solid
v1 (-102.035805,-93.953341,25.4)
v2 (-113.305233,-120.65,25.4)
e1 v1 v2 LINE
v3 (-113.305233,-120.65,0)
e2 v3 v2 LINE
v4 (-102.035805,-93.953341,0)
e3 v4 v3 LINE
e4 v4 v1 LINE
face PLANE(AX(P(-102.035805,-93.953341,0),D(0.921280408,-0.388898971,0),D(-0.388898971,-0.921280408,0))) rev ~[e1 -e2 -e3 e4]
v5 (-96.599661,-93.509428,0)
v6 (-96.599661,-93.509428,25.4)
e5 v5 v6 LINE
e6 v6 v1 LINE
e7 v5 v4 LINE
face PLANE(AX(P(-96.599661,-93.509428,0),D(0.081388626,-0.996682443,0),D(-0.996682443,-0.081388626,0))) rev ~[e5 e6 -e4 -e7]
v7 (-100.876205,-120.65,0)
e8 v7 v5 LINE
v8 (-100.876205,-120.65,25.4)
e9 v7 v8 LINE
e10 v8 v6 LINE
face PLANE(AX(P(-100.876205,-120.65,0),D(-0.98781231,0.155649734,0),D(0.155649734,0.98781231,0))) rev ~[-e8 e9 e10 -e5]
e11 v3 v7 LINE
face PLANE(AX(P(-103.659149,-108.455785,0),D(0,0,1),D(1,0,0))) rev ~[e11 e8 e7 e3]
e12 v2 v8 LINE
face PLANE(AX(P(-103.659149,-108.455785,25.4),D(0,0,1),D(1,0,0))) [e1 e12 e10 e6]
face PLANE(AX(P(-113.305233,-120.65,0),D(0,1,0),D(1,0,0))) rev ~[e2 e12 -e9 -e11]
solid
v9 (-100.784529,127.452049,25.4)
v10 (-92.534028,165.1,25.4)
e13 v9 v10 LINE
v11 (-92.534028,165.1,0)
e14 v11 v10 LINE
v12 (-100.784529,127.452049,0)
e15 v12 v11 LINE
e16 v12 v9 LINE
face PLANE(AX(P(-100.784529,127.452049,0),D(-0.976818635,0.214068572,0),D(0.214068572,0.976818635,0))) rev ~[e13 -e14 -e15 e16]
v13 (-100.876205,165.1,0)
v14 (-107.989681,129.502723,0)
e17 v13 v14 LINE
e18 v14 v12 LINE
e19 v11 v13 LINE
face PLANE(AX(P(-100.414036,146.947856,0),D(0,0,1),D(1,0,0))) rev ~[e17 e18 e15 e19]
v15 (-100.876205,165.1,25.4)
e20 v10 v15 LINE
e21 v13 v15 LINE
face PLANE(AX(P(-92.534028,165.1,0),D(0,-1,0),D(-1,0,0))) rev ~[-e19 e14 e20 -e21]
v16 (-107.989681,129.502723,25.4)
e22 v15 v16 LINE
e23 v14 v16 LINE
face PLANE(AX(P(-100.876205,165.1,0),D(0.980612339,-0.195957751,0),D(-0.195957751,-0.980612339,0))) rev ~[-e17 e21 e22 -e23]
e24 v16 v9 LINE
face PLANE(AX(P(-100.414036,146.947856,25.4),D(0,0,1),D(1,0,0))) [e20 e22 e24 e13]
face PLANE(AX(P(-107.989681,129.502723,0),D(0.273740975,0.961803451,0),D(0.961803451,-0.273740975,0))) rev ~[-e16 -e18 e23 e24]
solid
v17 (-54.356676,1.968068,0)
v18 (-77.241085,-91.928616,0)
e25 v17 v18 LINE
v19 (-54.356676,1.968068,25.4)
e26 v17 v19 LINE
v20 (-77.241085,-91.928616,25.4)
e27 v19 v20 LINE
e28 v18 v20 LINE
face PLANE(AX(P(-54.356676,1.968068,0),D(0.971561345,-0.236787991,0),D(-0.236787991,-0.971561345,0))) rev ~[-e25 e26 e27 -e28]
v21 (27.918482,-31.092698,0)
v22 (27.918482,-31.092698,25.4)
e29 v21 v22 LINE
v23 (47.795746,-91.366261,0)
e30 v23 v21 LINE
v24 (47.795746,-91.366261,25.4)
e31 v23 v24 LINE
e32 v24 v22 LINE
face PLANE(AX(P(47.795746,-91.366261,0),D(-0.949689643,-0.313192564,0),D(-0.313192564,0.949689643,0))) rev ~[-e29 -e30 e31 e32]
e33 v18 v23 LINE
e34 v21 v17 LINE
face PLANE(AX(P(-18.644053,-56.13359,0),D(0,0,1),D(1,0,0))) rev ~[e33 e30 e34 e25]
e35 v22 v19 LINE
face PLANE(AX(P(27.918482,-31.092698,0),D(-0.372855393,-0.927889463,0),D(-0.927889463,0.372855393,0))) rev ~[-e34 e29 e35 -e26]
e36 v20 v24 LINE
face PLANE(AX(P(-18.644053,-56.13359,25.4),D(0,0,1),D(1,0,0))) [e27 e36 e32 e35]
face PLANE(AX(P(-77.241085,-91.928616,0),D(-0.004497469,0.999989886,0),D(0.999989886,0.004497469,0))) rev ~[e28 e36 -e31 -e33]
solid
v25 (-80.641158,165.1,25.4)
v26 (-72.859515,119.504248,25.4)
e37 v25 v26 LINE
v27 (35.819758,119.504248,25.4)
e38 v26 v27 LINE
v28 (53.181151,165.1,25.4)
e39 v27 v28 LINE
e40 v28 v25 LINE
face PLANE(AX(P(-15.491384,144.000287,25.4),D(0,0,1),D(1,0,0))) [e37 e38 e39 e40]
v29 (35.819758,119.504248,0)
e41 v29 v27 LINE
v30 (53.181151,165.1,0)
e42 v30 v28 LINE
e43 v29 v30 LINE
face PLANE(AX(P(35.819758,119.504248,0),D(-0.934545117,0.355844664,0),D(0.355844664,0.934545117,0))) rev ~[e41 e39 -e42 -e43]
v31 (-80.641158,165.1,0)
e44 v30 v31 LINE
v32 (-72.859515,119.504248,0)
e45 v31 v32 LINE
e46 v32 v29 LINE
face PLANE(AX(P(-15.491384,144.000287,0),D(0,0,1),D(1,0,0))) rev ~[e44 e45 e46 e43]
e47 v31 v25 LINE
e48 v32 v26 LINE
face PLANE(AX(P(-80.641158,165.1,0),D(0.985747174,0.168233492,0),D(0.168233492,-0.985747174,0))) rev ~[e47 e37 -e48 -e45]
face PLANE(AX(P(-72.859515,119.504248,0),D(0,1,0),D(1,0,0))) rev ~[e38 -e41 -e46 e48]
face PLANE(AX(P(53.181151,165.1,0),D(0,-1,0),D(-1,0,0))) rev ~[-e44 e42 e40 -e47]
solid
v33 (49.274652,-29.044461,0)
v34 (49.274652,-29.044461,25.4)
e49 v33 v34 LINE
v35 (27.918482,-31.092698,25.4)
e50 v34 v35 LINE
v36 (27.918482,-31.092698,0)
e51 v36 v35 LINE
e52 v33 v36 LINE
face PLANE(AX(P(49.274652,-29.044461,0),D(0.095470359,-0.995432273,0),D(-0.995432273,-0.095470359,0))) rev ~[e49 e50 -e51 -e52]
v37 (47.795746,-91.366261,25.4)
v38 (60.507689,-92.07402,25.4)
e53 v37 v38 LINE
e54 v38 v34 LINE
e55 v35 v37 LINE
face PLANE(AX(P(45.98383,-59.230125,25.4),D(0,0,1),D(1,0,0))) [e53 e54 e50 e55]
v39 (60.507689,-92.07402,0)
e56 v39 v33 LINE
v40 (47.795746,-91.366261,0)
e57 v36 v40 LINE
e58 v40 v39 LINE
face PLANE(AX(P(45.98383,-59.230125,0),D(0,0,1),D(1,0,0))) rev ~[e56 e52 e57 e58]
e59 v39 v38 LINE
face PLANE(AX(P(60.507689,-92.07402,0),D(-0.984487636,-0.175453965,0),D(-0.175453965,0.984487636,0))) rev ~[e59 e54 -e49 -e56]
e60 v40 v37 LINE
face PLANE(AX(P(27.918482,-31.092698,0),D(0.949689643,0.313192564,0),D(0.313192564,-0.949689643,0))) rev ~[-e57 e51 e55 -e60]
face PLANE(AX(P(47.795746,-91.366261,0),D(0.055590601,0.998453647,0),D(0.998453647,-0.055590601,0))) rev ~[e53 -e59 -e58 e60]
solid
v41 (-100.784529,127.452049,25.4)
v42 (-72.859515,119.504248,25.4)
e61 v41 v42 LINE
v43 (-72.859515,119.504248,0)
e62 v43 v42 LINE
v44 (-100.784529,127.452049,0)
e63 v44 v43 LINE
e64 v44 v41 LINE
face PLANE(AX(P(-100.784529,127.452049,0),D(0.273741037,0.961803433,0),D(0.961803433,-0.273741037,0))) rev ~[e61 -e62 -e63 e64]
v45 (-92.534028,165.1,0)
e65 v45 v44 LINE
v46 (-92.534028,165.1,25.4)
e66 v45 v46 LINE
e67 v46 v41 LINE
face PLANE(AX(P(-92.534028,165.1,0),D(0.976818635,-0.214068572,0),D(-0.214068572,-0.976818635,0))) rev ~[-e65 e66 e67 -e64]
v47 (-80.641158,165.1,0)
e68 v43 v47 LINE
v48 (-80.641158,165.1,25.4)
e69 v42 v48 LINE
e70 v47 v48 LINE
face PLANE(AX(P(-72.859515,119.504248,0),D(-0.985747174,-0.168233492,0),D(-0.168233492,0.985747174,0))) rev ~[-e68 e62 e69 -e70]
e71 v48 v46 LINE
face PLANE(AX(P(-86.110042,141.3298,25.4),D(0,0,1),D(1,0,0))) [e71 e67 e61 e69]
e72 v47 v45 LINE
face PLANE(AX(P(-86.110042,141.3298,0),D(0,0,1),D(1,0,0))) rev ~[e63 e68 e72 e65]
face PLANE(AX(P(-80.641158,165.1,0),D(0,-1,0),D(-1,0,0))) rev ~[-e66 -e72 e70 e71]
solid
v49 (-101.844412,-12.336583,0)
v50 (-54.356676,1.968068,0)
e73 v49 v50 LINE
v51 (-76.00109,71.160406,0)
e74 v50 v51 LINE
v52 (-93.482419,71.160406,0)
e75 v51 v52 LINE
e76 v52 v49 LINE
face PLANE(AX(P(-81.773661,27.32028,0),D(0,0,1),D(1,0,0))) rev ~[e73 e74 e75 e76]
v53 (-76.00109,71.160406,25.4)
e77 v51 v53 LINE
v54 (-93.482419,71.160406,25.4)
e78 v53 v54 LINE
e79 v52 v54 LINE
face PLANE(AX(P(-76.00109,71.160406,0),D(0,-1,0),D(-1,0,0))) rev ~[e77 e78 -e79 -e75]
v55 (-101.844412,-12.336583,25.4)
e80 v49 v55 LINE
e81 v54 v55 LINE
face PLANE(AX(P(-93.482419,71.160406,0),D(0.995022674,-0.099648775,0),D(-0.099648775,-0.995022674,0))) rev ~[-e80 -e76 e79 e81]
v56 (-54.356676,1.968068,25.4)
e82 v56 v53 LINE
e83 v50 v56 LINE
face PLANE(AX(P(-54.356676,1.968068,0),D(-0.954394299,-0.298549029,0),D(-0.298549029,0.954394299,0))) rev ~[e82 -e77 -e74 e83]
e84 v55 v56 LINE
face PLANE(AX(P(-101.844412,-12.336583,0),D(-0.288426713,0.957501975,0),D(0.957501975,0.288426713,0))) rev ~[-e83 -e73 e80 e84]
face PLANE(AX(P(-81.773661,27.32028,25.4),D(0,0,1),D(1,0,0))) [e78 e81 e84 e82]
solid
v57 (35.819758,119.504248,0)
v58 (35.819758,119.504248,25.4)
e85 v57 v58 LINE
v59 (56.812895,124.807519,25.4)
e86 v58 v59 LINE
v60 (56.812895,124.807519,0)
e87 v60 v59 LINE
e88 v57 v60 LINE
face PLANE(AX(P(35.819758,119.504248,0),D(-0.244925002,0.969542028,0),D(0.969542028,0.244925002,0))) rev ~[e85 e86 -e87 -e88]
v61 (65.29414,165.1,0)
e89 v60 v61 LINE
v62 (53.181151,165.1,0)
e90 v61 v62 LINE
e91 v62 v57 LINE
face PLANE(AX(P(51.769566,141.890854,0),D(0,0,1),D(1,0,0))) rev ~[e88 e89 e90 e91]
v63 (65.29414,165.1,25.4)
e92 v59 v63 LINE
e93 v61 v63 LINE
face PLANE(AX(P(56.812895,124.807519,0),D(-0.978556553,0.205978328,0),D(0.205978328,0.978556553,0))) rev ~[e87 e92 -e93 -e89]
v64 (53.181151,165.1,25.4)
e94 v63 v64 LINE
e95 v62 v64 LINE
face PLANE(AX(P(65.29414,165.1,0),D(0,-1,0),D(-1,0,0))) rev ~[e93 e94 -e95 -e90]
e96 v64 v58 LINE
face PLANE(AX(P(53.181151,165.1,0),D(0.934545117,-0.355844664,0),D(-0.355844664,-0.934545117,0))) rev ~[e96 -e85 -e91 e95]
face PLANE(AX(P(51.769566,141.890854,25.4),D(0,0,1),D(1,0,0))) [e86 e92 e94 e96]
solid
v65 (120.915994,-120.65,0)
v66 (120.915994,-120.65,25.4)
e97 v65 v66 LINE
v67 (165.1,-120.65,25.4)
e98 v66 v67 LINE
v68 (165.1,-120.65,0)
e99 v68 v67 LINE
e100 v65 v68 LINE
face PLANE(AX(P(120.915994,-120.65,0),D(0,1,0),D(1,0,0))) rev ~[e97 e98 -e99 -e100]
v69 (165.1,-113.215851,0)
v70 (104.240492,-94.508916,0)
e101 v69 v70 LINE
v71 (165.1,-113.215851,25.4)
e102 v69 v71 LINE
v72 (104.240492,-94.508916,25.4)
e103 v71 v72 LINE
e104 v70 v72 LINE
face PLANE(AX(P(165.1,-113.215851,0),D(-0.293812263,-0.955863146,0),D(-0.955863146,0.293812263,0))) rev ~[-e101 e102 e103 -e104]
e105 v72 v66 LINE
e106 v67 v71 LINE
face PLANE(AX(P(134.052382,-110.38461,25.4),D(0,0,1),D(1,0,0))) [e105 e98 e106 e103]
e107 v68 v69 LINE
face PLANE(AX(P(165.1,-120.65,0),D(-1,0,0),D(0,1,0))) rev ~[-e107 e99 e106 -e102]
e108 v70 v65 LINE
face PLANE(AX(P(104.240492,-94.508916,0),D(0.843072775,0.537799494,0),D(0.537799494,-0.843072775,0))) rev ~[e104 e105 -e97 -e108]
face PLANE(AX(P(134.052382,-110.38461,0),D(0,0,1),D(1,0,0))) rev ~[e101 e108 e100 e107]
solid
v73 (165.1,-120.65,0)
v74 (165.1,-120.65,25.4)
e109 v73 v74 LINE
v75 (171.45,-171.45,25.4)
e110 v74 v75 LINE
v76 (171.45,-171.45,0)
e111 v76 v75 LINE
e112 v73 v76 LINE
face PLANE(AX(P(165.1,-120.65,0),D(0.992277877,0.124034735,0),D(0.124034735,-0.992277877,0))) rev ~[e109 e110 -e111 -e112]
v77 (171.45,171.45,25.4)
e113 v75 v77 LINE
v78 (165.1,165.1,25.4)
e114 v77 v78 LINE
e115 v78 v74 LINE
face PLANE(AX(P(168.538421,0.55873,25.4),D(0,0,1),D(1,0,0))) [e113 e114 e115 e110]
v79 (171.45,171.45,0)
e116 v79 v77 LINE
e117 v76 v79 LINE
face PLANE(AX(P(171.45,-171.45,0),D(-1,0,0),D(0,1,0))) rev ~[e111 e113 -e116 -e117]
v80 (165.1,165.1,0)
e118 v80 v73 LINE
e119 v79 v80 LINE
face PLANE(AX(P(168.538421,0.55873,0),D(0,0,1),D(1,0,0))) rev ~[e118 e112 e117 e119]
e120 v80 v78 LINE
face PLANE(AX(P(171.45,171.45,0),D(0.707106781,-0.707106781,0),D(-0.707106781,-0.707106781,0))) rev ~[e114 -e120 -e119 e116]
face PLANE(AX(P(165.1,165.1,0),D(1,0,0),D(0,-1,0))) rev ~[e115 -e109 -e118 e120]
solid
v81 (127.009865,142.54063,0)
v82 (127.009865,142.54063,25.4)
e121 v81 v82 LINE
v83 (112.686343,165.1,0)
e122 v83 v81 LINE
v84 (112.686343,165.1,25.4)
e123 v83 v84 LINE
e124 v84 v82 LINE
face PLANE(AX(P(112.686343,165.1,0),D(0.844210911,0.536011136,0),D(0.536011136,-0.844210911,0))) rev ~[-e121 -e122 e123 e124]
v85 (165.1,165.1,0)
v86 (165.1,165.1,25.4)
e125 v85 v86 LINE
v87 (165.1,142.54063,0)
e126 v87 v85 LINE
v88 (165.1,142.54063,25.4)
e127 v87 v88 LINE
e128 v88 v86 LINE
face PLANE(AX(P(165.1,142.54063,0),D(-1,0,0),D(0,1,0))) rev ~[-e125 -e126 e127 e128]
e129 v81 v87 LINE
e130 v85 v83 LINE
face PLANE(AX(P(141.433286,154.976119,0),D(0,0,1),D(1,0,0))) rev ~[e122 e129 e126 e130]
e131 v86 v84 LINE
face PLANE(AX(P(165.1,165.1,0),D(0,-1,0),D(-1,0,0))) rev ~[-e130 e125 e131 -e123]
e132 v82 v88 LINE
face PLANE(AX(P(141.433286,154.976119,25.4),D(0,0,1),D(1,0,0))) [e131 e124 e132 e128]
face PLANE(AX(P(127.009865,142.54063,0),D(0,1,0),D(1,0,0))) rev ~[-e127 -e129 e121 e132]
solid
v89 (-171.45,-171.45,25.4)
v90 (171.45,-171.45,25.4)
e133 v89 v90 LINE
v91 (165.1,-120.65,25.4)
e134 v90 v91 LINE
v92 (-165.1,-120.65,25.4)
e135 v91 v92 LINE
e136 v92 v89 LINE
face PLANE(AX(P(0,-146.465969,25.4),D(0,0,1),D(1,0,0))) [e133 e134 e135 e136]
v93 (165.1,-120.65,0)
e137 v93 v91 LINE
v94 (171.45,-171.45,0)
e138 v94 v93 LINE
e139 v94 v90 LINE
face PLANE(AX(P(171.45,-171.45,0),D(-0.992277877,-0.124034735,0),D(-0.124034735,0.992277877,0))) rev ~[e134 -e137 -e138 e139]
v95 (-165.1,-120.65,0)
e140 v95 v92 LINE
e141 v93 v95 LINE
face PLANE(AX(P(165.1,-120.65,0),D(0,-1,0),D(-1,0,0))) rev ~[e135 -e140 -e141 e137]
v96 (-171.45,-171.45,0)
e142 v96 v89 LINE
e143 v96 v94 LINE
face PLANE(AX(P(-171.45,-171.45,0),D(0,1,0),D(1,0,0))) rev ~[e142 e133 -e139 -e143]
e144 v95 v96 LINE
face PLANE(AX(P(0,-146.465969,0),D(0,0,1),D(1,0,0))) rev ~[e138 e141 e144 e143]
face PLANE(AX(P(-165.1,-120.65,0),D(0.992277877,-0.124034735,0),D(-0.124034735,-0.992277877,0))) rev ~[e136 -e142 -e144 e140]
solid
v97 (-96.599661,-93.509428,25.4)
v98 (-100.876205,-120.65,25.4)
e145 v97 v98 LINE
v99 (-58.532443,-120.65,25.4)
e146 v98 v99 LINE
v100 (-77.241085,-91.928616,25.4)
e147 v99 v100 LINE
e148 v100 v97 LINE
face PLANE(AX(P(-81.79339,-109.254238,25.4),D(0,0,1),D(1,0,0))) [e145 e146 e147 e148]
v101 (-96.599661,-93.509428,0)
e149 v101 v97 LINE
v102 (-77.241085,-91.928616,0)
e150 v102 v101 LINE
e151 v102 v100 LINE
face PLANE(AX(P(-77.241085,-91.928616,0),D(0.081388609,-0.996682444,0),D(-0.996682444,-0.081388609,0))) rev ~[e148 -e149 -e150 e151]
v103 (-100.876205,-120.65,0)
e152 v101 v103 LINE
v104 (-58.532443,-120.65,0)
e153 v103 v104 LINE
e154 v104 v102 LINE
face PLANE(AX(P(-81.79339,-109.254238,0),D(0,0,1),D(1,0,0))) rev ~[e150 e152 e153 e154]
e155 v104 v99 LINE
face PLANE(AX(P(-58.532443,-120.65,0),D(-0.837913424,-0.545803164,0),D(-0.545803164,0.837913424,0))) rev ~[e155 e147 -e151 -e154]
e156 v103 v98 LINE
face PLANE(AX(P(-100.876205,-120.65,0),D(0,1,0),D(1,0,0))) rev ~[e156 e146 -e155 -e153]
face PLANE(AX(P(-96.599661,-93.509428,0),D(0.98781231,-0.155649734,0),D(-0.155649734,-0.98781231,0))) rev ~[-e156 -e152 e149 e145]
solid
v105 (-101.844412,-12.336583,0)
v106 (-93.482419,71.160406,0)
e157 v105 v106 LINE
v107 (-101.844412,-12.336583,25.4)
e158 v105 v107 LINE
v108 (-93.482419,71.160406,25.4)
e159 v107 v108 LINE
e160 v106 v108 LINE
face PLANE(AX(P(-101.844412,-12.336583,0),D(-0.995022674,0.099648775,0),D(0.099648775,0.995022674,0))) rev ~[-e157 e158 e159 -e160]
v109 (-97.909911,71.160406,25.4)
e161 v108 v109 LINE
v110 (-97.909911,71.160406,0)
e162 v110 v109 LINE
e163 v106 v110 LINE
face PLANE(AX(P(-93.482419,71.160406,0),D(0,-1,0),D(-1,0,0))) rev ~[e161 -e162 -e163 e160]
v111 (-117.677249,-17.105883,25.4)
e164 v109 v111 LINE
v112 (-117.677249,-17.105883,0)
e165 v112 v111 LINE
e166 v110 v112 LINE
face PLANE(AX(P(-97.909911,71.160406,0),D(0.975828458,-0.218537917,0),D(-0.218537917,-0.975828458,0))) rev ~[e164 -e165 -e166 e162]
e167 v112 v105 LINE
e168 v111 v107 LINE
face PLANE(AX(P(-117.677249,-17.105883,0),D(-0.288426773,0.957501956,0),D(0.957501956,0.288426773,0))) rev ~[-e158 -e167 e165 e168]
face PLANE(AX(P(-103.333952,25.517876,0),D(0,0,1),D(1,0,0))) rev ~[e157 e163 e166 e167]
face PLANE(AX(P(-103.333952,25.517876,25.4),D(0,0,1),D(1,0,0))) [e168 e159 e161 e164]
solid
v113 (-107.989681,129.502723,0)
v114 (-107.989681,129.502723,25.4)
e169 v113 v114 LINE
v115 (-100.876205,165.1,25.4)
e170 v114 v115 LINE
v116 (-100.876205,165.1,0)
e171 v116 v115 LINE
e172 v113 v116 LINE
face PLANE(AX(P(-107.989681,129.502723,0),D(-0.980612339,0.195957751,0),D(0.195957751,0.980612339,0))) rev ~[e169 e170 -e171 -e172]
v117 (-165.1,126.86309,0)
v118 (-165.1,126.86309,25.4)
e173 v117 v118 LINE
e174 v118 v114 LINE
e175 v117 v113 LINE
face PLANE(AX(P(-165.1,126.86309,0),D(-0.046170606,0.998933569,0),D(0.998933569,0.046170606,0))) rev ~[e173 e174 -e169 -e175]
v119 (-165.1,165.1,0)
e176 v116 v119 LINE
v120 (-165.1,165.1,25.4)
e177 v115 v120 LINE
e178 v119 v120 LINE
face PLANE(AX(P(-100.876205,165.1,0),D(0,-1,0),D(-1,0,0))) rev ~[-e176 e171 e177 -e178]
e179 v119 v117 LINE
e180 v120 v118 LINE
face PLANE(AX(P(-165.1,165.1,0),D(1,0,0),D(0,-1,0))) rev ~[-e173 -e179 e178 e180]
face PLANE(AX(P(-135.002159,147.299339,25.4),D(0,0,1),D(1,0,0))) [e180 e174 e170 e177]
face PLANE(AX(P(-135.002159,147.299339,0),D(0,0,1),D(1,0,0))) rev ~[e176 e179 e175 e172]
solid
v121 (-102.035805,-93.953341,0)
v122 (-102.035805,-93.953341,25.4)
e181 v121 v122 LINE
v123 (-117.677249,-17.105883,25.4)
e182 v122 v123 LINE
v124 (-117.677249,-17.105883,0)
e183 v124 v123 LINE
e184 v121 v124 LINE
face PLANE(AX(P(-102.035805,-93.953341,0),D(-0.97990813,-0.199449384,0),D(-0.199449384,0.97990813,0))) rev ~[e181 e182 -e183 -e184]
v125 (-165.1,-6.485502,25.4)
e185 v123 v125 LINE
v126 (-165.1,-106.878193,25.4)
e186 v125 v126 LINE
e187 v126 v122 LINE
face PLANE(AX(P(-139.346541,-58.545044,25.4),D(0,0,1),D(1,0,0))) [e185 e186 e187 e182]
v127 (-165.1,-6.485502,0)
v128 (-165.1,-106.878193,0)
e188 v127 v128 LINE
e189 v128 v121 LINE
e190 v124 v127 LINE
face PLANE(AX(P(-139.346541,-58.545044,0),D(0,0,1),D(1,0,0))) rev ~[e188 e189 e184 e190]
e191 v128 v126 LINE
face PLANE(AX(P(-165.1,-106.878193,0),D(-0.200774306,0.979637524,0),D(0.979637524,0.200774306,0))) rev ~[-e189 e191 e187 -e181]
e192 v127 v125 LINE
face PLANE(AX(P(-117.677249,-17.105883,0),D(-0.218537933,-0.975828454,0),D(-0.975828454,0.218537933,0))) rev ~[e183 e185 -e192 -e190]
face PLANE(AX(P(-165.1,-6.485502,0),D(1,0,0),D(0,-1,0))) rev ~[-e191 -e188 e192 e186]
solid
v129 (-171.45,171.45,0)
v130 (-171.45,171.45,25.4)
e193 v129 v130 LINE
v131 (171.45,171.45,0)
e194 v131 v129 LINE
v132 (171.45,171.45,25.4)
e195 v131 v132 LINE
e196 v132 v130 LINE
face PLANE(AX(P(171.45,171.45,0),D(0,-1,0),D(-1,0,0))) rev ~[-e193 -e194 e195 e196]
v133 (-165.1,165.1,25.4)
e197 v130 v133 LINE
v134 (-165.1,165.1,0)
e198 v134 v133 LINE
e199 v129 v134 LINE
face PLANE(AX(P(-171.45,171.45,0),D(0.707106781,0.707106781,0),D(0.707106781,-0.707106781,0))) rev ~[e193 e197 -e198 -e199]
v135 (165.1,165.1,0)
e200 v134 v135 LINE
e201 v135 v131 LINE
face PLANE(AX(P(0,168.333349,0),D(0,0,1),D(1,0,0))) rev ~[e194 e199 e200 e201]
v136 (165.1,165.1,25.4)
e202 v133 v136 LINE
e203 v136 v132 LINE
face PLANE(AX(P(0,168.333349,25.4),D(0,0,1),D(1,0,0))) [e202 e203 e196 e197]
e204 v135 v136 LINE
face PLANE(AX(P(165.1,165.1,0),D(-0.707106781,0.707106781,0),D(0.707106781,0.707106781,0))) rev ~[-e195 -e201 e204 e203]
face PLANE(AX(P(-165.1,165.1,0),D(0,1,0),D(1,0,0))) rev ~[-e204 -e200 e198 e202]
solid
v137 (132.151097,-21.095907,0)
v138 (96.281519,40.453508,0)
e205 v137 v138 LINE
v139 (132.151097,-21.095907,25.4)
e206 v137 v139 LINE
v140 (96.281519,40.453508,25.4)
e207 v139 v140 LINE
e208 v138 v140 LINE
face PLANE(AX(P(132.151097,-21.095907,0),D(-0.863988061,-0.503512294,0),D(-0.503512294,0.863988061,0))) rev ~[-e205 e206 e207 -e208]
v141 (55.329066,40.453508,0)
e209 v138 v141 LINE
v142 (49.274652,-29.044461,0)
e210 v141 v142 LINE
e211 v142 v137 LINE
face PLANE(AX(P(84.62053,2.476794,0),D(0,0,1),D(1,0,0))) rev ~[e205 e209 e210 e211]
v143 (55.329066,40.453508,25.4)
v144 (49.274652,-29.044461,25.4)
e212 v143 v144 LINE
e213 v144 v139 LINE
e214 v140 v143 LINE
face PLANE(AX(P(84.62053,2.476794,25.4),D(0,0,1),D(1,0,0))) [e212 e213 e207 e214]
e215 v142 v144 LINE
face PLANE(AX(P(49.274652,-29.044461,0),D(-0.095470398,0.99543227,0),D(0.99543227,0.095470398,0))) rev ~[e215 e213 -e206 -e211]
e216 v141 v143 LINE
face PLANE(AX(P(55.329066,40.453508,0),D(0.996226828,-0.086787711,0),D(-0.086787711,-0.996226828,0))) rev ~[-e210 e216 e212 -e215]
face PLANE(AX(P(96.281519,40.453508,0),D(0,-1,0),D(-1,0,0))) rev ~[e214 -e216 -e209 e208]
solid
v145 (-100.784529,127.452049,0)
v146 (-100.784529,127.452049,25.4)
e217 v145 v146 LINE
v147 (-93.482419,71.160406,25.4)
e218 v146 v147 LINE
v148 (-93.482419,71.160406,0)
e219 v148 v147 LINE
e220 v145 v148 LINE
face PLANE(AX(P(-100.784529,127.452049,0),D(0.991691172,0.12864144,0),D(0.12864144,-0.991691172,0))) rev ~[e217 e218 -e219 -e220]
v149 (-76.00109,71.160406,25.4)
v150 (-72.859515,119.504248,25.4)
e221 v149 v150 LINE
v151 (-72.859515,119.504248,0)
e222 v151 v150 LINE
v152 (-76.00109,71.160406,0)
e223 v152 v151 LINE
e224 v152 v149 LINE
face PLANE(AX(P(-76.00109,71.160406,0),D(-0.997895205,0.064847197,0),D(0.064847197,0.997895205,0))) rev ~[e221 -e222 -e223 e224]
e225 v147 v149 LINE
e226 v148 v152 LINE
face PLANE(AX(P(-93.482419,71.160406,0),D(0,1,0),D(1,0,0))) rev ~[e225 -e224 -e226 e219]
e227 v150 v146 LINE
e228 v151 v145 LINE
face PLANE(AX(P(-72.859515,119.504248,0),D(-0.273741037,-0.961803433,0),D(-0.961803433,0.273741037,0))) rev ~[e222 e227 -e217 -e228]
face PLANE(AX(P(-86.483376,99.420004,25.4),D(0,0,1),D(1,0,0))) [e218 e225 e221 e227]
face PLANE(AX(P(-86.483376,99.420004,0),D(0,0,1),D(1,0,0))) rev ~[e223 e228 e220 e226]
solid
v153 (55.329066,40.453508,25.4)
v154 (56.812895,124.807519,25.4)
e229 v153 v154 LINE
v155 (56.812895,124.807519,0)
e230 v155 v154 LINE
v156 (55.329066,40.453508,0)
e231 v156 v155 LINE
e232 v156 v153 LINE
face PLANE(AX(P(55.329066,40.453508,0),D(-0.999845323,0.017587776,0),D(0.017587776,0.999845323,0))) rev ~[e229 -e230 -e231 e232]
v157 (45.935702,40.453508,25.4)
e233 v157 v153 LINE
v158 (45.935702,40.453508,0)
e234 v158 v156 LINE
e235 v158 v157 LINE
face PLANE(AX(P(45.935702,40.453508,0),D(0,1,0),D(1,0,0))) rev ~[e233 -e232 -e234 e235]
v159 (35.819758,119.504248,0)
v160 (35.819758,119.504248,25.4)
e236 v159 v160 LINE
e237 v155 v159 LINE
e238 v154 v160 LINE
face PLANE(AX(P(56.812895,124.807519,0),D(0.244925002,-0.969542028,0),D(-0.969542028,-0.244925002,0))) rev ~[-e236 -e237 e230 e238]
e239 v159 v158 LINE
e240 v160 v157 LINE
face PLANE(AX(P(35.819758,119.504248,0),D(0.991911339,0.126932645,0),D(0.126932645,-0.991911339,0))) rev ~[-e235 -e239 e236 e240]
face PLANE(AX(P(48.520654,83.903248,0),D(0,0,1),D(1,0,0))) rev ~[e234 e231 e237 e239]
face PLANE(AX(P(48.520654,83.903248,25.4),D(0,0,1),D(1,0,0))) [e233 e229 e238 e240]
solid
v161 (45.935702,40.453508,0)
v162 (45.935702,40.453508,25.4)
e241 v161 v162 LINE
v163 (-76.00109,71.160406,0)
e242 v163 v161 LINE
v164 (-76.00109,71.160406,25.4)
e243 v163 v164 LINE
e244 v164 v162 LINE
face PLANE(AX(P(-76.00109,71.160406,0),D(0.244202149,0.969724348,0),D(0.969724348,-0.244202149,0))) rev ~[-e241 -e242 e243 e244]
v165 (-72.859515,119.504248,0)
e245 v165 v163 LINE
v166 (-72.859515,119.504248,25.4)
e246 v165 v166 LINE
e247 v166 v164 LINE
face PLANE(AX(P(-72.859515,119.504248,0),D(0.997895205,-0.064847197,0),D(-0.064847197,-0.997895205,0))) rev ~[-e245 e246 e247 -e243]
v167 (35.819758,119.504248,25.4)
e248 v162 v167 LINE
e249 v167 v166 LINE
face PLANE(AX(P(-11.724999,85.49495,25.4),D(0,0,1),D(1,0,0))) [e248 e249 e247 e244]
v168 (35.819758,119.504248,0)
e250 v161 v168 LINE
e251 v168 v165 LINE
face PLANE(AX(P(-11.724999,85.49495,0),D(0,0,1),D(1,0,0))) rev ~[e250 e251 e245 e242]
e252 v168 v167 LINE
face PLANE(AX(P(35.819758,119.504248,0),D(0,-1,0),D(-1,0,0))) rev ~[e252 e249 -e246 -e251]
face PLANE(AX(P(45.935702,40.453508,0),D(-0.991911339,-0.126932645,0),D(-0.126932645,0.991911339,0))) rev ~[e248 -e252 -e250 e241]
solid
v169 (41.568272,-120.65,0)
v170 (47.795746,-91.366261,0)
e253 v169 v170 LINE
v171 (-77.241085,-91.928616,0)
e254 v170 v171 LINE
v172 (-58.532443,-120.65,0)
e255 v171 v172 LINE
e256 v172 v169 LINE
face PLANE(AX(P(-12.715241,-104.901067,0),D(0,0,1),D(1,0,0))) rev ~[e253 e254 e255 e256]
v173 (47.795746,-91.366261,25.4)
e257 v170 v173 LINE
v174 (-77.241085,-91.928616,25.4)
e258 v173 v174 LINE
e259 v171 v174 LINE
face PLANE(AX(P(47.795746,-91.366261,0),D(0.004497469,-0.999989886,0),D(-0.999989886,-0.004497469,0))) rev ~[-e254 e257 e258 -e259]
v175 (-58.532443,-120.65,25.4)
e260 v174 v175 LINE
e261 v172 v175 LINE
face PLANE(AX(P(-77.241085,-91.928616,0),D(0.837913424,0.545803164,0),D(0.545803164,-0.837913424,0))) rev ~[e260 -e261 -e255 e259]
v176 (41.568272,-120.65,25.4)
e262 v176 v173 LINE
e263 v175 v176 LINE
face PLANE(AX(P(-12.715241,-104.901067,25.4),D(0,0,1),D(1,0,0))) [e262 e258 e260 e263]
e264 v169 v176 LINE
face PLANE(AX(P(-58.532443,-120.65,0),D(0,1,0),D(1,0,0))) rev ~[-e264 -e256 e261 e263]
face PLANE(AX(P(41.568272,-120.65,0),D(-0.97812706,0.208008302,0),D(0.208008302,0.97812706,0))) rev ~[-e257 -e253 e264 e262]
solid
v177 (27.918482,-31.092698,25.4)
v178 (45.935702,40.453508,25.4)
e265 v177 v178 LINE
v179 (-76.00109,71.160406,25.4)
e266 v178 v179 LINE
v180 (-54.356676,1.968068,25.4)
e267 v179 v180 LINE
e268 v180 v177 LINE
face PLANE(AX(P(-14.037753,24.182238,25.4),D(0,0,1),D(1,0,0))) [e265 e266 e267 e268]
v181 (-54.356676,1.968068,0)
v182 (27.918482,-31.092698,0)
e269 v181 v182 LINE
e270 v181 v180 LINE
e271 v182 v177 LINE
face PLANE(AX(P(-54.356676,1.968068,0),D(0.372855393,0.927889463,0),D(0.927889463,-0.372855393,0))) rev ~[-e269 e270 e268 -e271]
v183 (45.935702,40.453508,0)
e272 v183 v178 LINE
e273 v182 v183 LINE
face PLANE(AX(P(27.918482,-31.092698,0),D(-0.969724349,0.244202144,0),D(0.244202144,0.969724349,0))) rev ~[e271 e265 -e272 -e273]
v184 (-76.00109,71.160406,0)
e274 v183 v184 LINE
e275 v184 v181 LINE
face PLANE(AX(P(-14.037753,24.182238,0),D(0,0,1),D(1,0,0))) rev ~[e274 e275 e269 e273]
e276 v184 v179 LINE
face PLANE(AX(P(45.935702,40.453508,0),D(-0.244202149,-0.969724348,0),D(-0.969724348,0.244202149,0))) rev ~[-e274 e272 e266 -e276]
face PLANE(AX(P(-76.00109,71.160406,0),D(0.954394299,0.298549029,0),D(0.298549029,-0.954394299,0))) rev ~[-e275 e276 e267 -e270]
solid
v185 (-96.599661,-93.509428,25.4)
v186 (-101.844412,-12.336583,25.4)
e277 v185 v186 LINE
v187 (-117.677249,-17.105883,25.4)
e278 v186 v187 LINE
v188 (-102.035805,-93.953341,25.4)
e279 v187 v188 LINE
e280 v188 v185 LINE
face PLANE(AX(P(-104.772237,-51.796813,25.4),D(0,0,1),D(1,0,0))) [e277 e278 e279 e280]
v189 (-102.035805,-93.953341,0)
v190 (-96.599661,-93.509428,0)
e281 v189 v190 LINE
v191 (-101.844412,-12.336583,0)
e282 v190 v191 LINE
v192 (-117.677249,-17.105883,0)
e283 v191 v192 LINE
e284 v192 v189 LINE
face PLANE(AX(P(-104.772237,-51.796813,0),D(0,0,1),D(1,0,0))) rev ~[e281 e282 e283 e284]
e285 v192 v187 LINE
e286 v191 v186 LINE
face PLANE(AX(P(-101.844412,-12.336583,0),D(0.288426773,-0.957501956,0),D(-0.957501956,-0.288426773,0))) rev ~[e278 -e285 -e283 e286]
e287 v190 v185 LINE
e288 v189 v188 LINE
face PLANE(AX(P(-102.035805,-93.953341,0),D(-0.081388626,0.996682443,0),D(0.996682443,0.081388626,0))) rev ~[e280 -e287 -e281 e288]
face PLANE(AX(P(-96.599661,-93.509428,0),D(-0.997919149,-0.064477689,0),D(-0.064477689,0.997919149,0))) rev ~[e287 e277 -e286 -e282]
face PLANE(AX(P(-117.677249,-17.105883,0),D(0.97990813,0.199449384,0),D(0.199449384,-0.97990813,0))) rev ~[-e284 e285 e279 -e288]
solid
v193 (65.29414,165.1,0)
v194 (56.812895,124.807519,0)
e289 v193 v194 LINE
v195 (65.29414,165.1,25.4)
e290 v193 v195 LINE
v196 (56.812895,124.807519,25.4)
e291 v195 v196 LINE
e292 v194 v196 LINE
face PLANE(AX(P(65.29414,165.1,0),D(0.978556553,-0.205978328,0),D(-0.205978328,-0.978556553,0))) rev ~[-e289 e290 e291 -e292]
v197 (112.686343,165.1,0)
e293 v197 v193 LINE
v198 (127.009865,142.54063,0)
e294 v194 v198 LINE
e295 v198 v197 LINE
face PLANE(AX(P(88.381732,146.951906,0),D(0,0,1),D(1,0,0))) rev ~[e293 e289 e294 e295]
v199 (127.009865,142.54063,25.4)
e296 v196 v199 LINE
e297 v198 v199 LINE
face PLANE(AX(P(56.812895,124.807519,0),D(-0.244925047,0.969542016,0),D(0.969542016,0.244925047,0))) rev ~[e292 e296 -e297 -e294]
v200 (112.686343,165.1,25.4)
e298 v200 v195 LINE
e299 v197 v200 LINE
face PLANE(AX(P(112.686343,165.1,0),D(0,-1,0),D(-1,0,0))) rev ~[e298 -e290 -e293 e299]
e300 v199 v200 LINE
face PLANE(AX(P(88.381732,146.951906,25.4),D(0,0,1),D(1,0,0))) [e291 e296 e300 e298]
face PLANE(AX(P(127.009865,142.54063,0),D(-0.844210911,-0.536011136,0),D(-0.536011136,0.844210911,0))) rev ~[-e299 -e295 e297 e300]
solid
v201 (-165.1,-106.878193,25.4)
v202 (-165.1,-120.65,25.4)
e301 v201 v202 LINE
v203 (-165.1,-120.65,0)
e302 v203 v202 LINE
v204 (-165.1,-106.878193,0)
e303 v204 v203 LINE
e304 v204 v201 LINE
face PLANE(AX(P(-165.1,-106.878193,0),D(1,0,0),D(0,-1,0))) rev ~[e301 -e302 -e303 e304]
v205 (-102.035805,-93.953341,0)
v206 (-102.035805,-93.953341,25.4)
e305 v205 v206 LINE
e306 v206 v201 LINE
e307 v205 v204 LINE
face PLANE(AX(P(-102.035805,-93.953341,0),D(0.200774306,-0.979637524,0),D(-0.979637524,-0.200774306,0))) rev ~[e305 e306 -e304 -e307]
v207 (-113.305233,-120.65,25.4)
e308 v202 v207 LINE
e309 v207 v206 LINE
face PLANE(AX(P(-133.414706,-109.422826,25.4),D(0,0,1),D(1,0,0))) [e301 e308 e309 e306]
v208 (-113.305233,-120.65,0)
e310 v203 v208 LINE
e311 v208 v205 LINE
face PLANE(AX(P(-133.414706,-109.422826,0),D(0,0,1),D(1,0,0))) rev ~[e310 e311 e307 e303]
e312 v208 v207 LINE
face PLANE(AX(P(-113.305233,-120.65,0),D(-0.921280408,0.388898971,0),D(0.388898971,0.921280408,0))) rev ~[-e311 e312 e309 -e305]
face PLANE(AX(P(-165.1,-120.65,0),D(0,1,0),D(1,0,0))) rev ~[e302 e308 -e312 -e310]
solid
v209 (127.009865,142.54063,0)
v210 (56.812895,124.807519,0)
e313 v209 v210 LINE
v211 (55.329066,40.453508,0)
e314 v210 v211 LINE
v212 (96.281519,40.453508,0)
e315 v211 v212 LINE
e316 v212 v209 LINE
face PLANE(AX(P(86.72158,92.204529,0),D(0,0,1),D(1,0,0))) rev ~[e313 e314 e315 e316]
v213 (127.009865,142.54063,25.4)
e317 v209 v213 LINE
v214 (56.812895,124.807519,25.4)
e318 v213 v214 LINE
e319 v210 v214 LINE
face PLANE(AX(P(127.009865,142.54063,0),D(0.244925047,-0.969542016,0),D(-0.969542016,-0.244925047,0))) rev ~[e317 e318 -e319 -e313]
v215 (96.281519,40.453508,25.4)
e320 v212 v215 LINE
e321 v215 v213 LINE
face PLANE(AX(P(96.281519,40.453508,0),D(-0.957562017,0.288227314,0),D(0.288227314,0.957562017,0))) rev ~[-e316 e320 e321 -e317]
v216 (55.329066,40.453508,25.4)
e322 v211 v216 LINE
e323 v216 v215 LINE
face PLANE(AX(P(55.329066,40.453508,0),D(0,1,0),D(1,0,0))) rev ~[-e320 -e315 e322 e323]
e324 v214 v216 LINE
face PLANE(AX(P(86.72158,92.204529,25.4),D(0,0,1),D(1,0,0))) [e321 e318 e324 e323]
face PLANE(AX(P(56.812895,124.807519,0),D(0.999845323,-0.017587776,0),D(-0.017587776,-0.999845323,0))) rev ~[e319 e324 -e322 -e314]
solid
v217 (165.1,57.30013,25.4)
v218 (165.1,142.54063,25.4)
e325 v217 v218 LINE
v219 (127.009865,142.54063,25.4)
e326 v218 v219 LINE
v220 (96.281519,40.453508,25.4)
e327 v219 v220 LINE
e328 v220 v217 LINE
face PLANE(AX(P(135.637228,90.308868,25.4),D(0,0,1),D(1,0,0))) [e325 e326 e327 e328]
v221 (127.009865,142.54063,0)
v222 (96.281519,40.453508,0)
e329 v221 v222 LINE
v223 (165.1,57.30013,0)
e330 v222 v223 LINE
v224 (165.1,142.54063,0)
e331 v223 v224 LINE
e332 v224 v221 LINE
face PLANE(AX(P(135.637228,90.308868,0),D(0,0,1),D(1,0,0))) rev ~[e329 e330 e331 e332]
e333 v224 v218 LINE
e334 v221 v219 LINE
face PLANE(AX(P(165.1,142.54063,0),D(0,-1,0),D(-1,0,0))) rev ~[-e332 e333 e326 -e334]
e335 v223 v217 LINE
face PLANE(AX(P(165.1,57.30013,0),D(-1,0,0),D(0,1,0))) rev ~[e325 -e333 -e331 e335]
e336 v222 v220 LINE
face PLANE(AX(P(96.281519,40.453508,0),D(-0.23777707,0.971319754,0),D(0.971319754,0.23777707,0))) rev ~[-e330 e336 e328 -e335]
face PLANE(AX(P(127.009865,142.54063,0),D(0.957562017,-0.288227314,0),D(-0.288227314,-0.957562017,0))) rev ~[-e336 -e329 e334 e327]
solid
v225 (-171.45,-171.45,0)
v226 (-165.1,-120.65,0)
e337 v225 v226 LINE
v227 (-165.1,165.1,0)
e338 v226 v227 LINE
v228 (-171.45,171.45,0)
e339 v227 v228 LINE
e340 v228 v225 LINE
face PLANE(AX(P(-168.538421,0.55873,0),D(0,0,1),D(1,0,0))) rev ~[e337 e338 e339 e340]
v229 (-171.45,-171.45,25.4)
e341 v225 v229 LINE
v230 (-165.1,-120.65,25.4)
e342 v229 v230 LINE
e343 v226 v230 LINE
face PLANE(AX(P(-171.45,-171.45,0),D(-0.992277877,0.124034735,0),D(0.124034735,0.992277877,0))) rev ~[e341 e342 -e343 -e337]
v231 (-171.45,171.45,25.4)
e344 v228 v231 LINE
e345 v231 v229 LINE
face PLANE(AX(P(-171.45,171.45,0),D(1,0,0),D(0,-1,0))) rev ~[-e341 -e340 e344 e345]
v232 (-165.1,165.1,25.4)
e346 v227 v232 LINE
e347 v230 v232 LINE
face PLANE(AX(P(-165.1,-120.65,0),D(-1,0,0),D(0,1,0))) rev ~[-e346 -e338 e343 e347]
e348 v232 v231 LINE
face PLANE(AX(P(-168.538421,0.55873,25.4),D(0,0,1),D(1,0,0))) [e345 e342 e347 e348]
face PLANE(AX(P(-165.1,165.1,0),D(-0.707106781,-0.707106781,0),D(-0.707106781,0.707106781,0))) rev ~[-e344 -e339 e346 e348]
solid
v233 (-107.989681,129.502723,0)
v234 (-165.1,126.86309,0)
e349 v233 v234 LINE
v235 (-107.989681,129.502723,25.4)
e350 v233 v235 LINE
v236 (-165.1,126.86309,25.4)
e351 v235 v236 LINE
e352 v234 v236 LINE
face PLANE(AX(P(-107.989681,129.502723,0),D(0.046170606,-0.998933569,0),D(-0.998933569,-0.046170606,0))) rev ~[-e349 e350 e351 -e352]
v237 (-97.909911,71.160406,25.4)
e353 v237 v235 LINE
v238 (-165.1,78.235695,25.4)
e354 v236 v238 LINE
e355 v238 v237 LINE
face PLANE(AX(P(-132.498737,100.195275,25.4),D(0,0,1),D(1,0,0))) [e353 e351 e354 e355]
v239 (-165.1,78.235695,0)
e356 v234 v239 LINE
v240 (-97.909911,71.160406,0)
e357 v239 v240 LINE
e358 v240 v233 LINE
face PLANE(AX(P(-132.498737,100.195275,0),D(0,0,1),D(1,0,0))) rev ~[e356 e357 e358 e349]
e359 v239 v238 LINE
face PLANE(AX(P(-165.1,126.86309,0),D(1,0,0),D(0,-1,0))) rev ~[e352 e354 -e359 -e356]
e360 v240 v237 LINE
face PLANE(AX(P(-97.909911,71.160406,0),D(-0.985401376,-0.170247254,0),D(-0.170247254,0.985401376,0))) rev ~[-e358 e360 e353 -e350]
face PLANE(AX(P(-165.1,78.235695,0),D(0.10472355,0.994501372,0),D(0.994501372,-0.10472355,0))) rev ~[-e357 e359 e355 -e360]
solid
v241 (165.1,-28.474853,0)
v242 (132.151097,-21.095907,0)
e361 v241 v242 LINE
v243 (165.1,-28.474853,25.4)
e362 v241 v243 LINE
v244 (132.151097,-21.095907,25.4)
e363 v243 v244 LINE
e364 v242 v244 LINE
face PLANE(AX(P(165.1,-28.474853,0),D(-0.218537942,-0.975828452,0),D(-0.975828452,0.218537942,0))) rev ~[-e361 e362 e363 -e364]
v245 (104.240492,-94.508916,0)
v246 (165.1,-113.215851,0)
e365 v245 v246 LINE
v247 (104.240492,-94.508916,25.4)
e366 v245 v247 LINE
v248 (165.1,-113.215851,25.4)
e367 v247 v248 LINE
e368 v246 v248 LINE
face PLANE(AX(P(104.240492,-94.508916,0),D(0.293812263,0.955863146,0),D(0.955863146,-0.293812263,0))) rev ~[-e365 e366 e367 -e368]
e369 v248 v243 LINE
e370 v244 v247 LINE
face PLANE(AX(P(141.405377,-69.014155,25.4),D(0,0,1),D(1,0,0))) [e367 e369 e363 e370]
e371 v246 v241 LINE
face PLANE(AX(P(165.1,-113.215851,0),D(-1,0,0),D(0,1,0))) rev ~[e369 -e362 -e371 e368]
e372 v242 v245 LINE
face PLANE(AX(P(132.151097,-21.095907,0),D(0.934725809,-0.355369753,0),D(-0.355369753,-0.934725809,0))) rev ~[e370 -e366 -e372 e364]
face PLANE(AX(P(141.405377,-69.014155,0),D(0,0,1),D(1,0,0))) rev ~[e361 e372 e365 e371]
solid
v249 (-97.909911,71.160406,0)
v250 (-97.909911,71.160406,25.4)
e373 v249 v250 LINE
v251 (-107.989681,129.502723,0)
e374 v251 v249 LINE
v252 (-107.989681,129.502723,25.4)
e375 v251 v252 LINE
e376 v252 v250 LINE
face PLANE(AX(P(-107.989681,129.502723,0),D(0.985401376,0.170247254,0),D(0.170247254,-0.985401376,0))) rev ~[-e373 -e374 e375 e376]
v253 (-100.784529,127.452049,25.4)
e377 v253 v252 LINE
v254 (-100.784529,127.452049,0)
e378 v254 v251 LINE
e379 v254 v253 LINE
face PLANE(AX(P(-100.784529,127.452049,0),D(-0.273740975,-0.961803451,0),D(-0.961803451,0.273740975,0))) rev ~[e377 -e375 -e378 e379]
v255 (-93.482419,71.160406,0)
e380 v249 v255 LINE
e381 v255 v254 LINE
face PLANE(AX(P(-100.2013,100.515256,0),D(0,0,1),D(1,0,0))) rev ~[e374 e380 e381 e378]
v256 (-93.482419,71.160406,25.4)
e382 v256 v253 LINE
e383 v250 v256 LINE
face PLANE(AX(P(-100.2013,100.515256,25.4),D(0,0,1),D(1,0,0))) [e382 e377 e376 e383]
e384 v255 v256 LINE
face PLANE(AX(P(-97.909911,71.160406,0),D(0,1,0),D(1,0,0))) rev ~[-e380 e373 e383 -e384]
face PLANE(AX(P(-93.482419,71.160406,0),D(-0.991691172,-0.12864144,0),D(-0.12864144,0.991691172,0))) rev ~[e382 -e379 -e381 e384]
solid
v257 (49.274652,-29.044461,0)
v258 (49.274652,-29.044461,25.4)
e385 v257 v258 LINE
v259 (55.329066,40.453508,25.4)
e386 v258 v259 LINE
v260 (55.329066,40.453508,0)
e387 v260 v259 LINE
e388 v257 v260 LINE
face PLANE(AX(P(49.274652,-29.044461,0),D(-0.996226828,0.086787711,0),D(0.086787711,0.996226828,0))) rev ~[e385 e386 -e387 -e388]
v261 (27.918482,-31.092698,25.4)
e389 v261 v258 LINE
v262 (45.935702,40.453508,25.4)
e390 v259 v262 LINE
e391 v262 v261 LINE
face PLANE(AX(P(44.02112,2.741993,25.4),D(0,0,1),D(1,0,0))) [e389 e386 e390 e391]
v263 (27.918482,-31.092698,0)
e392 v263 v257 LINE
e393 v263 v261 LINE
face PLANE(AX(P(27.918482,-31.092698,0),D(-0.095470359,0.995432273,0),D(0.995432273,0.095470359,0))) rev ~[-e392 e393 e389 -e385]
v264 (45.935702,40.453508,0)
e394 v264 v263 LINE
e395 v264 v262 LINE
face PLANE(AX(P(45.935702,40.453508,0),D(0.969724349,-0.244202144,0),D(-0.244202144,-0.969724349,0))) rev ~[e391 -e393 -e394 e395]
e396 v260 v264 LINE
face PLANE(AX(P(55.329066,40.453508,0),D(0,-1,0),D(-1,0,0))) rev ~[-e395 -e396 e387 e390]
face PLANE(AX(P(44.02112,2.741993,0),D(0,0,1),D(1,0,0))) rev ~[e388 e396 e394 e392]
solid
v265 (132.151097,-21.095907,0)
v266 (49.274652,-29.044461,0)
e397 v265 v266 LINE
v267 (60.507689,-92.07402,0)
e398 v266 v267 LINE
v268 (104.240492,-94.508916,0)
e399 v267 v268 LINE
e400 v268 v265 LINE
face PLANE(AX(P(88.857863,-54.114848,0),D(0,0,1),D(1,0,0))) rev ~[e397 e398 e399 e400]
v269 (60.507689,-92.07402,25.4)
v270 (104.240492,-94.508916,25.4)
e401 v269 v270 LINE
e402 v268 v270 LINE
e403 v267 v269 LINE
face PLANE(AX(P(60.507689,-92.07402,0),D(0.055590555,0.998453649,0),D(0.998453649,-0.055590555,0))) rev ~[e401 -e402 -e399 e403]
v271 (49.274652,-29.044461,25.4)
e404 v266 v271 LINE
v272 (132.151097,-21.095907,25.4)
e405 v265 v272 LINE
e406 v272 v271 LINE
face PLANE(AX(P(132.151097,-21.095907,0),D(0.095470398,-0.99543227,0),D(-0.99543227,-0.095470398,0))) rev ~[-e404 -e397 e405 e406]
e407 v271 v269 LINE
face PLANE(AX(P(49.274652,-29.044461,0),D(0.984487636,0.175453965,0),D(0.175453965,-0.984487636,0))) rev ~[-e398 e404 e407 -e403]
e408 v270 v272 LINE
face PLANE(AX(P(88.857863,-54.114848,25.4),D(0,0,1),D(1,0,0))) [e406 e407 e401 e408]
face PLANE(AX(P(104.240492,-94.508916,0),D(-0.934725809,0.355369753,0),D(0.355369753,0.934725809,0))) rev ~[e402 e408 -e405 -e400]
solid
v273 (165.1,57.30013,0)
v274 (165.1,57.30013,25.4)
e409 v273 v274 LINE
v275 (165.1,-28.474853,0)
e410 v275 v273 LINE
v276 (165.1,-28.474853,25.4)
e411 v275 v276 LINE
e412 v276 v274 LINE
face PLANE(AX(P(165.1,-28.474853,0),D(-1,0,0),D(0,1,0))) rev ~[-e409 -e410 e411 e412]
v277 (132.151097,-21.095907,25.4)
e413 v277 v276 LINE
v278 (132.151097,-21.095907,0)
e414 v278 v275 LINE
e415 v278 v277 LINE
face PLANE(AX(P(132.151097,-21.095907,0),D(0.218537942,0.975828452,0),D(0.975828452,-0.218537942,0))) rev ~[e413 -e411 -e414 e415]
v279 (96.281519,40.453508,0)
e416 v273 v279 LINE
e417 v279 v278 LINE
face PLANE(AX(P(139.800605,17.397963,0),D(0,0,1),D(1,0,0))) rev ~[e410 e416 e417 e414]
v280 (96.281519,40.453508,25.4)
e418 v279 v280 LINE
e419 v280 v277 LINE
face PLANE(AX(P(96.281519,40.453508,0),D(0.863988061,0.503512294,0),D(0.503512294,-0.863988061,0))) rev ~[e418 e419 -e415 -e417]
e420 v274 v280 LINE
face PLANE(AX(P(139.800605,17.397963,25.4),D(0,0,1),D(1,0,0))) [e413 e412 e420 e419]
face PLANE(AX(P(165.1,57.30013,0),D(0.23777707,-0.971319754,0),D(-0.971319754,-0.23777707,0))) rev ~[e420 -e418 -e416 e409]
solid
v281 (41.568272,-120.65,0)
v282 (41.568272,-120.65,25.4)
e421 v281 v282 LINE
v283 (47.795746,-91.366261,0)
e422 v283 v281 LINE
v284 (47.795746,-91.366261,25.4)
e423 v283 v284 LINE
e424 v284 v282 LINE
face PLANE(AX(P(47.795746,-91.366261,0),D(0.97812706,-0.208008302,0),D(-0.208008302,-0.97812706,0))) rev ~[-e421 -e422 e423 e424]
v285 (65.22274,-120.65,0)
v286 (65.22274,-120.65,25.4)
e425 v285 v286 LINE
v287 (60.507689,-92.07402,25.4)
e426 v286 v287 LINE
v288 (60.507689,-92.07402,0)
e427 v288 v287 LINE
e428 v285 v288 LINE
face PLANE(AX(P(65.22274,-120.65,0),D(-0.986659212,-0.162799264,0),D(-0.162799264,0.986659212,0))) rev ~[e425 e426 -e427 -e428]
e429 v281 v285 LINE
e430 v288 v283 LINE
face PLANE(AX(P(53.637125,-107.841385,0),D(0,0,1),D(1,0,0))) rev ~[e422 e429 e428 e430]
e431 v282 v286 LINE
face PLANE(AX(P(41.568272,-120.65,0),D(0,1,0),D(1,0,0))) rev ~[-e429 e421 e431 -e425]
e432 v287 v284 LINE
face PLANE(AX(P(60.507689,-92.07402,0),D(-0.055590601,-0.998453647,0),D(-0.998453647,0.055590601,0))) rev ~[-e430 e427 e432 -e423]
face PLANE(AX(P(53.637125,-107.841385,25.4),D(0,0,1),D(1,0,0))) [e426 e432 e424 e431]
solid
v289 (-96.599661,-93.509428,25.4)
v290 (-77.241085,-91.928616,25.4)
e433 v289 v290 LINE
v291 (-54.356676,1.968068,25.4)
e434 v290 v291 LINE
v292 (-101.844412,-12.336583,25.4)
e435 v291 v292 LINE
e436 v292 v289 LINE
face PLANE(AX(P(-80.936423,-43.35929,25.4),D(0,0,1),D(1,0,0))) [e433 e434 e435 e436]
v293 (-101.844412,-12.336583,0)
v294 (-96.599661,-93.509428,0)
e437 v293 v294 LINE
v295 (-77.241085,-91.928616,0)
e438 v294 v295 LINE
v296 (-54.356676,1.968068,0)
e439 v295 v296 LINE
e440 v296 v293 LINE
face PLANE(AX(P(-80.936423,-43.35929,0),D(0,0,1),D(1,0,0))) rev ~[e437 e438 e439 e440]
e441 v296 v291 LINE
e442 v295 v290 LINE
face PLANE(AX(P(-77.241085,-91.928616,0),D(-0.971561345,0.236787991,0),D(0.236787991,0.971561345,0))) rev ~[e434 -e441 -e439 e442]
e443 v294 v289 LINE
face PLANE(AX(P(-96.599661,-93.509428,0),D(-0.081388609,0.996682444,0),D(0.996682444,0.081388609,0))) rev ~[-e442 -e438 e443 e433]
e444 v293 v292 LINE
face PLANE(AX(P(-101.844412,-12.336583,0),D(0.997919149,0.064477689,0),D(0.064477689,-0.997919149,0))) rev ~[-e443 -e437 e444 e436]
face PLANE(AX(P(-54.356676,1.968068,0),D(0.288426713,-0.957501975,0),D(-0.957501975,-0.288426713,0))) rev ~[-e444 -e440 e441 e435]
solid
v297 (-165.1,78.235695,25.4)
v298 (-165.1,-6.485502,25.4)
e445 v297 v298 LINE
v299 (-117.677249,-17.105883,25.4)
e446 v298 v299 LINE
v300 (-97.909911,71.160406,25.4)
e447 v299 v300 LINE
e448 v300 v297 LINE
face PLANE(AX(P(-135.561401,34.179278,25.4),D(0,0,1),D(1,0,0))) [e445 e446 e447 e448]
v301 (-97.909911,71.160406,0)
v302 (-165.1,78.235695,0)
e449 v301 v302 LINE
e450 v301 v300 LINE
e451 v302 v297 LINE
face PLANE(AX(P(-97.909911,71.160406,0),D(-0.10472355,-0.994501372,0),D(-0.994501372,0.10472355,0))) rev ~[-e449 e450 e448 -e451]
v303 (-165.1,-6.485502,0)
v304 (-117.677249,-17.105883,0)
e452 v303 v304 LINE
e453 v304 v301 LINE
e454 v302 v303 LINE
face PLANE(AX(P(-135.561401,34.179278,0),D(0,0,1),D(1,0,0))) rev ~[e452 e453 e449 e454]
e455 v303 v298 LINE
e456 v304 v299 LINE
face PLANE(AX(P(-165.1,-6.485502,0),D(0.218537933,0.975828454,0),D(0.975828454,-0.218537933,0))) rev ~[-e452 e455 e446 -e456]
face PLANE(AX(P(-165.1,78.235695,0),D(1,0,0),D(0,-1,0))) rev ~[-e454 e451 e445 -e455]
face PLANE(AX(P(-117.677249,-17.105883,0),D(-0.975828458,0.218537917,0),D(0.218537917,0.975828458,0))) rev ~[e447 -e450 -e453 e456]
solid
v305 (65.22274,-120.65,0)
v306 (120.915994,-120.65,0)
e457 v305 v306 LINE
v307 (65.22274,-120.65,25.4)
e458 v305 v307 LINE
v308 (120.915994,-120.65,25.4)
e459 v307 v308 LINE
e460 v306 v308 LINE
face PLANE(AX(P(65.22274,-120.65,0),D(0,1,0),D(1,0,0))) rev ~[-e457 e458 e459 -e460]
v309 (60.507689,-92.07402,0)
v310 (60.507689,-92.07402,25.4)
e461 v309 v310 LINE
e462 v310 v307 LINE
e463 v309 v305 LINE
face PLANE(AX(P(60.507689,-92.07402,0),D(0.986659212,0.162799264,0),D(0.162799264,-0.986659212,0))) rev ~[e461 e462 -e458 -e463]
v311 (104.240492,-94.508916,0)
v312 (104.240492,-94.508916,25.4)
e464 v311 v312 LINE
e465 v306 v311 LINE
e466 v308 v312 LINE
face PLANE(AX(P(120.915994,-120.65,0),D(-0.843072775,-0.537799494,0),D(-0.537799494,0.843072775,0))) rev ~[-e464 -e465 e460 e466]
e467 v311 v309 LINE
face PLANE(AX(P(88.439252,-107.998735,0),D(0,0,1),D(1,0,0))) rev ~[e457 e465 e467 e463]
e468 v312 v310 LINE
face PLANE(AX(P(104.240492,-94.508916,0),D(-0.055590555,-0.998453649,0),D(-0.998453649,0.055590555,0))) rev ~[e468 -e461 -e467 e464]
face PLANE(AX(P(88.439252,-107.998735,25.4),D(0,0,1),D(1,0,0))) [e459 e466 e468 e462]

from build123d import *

# Parameters (mm, degrees)
F1_DEPTH = 25.4
F2_DEPTH = 25.4
F3_DEPTH = 25.4
F4_DEPTH = 25.4
F5_DEPTH = 25.4
F6_DEPTH = 25.4
F7_DEPTH = 25.4


with BuildPart() as f1:
    # F0 (on Top) → F1 (new body)
    with BuildSketch(Plane.XY):
        Polygon((165.1, 165.1), (171.45, 171.45), (-171.45, 171.45), (-165.1, 165.1), (-100.876205, 165.1), (-92.534028, 165.1), (-80.641158, 165.1), (53.181151, 165.1), (65.29414, 165.1), (112.686343, 165.1), align=None)
        Polygon((-171.45, -171.45), (171.45, -171.45), (165.1, -120.65), (120.915994, -120.65), (65.22274, -120.65), (41.568272, -120.65), (-58.532443, -120.65), (-100.876205, -120.65), (-113.305233, -120.65), (-165.1, -120.65), align=None)
    extrude(amount=F1_DEPTH)


with BuildPart() as f2:
    # F0 (on Top) → F2 (new body)
    with BuildSketch(Plane.XY):
        Polygon((-165.1, 165.1), (-171.45, 171.45), (-171.45, -171.45), (-165.1, -120.65), (-165.1, -106.878193), (-165.1, -6.485502), (-165.1, 78.235695), (-165.1, 126.86309), align=None)
        Polygon((171.45, -171.45), (171.45, 171.45), (165.1, 165.1), (165.1, 142.54063), (165.1, 57.30013), (165.1, -28.474853), (165.1, -113.215851), (165.1, -120.65), align=None)
    extrude(amount=F2_DEPTH)


with BuildPart() as f3:
    # F0 (on Top) → F3 (new body)
    with BuildSketch(Plane.XY):
        Polygon((-80.641158, 165.1), (-92.534028, 165.1), (-100.784529, 127.452049), (-72.859515, 119.504248), align=None)
        Polygon((-76.00109, 71.160406), (-93.482419, 71.160406), (-101.844412, -12.336583), (-54.356676, 1.968068), align=None)
        Polygon((-96.599661, -93.509428), (-100.876205, -120.65), (-58.532443, -120.65), (-77.241085, -91.928616), align=None)
        Polygon((127.009865, 142.54063), (112.686343, 165.1), (65.29414, 165.1), (56.812895, 124.807519), align=None)
        Polygon((132.151097, -21.095907), (96.281519, 40.453508), (55.329066, 40.453508), (49.274652, -29.044461), align=None)
        Polygon((65.22274, -120.65), (120.915994, -120.65), (104.240492, -94.508916), (60.507689, -92.07402), align=None)
    extrude(amount=F3_DEPTH)


with BuildPart() as f4:
    # F0 (on Top) → F4 (new body)
    with BuildSketch(Plane.XY):
        Polygon((-101.844412, -12.336583), (-96.599661, -93.509428), (-77.241085, -91.928616), (-54.356676, 1.968068), align=None)
        Polygon((60.507689, -92.07402), (104.240492, -94.508916), (132.151097, -21.095907), (49.274652, -29.044461), align=None)
        Polygon((35.819758, 119.504248), (53.181151, 165.1), (-80.641158, 165.1), (-72.859515, 119.504248), align=None)
        Polygon((-100.876205, 165.1), (-165.1, 165.1), (-165.1, 126.86309), (-107.989681, 129.502723), align=None)
        Polygon((27.918482, -31.092698), (45.935702, 40.453508), (-76.00109, 71.160406), (-54.356676, 1.968068), align=None)
        Polygon((165.1, -28.474853), (165.1, 57.30013), (96.281519, 40.453508), (132.151097, -21.095907), align=None)
        Polygon((165.1, 142.54063), (165.1, 165.1), (112.686343, 165.1), (127.009865, 142.54063), align=None)
        Polygon((120.915994, -120.65), (165.1, -120.65), (165.1, -113.215851), (104.240492, -94.508916), align=None)
        Polygon((-58.532443, -120.65), (41.568272, -120.65), (47.795746, -91.366261), (-77.241085, -91.928616), align=None)
        Polygon((-97.909911, 71.160406), (-165.1, 78.235695), (-165.1, -6.485502), (-117.677249, -17.105883), align=None)
        Polygon((-165.1, -106.878193), (-165.1, -120.65), (-113.305233, -120.65), (-102.035805, -93.953341), align=None)
        Polygon((-72.859515, 119.504248), (-100.784529, 127.452049), (-93.482419, 71.160406), (-76.00109, 71.160406), align=None)
        Polygon((96.281519, 40.453508), (127.009865, 142.54063), (56.812895, 124.807519), (55.329066, 40.453508), align=None)
    extrude(amount=F4_DEPTH)


with BuildPart() as f5:
    # F0 (on Top) → F5 (new body)
    with BuildSketch(Plane.XY):
        Polygon((-107.989681, 129.502723), (-165.1, 126.86309), (-165.1, 78.235695), (-97.909911, 71.160406), align=None)
        Polygon((45.935702, 40.453508), (35.819758, 119.504248), (-72.859515, 119.504248), (-76.00109, 71.160406), align=None)
        Polygon((165.1, 57.30013), (165.1, 142.54063), (127.009865, 142.54063), (96.281519, 40.453508), align=None)
        Polygon((104.240492, -94.508916), (165.1, -113.215851), (165.1, -28.474853), (132.151097, -21.095907), align=None)
        Polygon((-77.241085, -91.928616), (47.795746, -91.366261), (27.918482, -31.092698), (-54.356676, 1.968068), align=None)
        Polygon((-165.1, -6.485502), (-165.1, -106.878193), (-102.035805, -93.953341), (-117.677249, -17.105883), align=None)
    extrude(amount=F5_DEPTH)


with BuildPart() as f6:
    # F0 (on Top) → F6 (new body)
    with BuildSketch(Plane.XY):
        Polygon((-92.534028, 165.1), (-100.876205, 165.1), (-107.989681, 129.502723), (-100.784529, 127.452049), align=None)
        Polygon((-93.482419, 71.160406), (-97.909911, 71.160406), (-117.677249, -17.105883), (-101.844412, -12.336583), align=None)
        Polygon((-102.035805, -93.953341), (-113.305233, -120.65), (-100.876205, -120.65), (-96.599661, -93.509428), align=None)
        Polygon((56.812895, 124.807519), (65.29414, 165.1), (53.181151, 165.1), (35.819758, 119.504248), align=None)
        Polygon((49.274652, -29.044461), (55.329066, 40.453508), (45.935702, 40.453508), (27.918482, -31.092698), align=None)
        Polygon((41.568272, -120.65), (65.22274, -120.65), (60.507689, -92.07402), (47.795746, -91.366261), align=None)
    extrude(amount=F6_DEPTH)


with BuildPart() as f7:
    # F0 (on Top) → F7 (new body)
    with BuildSketch(Plane.XY):
        Polygon((-100.784529, 127.452049), (-107.989681, 129.502723), (-97.909911, 71.160406), (-93.482419, 71.160406), align=None)
        Polygon((55.329066, 40.453508), (56.812895, 124.807519), (35.819758, 119.504248), (45.935702, 40.453508), align=None)
        Polygon((47.795746, -91.366261), (60.507689, -92.07402), (49.274652, -29.044461), (27.918482, -31.092698), align=None)
        Polygon((-117.677249, -17.105883), (-102.035805, -93.953341), (-96.599661, -93.509428), (-101.844412, -12.336583), align=None)
    extrude(amount=F7_DEPTH)


solid = Compound([f1.part, f2.part, f3.part, f4.part, f5.part, f6.part, f7.part])
